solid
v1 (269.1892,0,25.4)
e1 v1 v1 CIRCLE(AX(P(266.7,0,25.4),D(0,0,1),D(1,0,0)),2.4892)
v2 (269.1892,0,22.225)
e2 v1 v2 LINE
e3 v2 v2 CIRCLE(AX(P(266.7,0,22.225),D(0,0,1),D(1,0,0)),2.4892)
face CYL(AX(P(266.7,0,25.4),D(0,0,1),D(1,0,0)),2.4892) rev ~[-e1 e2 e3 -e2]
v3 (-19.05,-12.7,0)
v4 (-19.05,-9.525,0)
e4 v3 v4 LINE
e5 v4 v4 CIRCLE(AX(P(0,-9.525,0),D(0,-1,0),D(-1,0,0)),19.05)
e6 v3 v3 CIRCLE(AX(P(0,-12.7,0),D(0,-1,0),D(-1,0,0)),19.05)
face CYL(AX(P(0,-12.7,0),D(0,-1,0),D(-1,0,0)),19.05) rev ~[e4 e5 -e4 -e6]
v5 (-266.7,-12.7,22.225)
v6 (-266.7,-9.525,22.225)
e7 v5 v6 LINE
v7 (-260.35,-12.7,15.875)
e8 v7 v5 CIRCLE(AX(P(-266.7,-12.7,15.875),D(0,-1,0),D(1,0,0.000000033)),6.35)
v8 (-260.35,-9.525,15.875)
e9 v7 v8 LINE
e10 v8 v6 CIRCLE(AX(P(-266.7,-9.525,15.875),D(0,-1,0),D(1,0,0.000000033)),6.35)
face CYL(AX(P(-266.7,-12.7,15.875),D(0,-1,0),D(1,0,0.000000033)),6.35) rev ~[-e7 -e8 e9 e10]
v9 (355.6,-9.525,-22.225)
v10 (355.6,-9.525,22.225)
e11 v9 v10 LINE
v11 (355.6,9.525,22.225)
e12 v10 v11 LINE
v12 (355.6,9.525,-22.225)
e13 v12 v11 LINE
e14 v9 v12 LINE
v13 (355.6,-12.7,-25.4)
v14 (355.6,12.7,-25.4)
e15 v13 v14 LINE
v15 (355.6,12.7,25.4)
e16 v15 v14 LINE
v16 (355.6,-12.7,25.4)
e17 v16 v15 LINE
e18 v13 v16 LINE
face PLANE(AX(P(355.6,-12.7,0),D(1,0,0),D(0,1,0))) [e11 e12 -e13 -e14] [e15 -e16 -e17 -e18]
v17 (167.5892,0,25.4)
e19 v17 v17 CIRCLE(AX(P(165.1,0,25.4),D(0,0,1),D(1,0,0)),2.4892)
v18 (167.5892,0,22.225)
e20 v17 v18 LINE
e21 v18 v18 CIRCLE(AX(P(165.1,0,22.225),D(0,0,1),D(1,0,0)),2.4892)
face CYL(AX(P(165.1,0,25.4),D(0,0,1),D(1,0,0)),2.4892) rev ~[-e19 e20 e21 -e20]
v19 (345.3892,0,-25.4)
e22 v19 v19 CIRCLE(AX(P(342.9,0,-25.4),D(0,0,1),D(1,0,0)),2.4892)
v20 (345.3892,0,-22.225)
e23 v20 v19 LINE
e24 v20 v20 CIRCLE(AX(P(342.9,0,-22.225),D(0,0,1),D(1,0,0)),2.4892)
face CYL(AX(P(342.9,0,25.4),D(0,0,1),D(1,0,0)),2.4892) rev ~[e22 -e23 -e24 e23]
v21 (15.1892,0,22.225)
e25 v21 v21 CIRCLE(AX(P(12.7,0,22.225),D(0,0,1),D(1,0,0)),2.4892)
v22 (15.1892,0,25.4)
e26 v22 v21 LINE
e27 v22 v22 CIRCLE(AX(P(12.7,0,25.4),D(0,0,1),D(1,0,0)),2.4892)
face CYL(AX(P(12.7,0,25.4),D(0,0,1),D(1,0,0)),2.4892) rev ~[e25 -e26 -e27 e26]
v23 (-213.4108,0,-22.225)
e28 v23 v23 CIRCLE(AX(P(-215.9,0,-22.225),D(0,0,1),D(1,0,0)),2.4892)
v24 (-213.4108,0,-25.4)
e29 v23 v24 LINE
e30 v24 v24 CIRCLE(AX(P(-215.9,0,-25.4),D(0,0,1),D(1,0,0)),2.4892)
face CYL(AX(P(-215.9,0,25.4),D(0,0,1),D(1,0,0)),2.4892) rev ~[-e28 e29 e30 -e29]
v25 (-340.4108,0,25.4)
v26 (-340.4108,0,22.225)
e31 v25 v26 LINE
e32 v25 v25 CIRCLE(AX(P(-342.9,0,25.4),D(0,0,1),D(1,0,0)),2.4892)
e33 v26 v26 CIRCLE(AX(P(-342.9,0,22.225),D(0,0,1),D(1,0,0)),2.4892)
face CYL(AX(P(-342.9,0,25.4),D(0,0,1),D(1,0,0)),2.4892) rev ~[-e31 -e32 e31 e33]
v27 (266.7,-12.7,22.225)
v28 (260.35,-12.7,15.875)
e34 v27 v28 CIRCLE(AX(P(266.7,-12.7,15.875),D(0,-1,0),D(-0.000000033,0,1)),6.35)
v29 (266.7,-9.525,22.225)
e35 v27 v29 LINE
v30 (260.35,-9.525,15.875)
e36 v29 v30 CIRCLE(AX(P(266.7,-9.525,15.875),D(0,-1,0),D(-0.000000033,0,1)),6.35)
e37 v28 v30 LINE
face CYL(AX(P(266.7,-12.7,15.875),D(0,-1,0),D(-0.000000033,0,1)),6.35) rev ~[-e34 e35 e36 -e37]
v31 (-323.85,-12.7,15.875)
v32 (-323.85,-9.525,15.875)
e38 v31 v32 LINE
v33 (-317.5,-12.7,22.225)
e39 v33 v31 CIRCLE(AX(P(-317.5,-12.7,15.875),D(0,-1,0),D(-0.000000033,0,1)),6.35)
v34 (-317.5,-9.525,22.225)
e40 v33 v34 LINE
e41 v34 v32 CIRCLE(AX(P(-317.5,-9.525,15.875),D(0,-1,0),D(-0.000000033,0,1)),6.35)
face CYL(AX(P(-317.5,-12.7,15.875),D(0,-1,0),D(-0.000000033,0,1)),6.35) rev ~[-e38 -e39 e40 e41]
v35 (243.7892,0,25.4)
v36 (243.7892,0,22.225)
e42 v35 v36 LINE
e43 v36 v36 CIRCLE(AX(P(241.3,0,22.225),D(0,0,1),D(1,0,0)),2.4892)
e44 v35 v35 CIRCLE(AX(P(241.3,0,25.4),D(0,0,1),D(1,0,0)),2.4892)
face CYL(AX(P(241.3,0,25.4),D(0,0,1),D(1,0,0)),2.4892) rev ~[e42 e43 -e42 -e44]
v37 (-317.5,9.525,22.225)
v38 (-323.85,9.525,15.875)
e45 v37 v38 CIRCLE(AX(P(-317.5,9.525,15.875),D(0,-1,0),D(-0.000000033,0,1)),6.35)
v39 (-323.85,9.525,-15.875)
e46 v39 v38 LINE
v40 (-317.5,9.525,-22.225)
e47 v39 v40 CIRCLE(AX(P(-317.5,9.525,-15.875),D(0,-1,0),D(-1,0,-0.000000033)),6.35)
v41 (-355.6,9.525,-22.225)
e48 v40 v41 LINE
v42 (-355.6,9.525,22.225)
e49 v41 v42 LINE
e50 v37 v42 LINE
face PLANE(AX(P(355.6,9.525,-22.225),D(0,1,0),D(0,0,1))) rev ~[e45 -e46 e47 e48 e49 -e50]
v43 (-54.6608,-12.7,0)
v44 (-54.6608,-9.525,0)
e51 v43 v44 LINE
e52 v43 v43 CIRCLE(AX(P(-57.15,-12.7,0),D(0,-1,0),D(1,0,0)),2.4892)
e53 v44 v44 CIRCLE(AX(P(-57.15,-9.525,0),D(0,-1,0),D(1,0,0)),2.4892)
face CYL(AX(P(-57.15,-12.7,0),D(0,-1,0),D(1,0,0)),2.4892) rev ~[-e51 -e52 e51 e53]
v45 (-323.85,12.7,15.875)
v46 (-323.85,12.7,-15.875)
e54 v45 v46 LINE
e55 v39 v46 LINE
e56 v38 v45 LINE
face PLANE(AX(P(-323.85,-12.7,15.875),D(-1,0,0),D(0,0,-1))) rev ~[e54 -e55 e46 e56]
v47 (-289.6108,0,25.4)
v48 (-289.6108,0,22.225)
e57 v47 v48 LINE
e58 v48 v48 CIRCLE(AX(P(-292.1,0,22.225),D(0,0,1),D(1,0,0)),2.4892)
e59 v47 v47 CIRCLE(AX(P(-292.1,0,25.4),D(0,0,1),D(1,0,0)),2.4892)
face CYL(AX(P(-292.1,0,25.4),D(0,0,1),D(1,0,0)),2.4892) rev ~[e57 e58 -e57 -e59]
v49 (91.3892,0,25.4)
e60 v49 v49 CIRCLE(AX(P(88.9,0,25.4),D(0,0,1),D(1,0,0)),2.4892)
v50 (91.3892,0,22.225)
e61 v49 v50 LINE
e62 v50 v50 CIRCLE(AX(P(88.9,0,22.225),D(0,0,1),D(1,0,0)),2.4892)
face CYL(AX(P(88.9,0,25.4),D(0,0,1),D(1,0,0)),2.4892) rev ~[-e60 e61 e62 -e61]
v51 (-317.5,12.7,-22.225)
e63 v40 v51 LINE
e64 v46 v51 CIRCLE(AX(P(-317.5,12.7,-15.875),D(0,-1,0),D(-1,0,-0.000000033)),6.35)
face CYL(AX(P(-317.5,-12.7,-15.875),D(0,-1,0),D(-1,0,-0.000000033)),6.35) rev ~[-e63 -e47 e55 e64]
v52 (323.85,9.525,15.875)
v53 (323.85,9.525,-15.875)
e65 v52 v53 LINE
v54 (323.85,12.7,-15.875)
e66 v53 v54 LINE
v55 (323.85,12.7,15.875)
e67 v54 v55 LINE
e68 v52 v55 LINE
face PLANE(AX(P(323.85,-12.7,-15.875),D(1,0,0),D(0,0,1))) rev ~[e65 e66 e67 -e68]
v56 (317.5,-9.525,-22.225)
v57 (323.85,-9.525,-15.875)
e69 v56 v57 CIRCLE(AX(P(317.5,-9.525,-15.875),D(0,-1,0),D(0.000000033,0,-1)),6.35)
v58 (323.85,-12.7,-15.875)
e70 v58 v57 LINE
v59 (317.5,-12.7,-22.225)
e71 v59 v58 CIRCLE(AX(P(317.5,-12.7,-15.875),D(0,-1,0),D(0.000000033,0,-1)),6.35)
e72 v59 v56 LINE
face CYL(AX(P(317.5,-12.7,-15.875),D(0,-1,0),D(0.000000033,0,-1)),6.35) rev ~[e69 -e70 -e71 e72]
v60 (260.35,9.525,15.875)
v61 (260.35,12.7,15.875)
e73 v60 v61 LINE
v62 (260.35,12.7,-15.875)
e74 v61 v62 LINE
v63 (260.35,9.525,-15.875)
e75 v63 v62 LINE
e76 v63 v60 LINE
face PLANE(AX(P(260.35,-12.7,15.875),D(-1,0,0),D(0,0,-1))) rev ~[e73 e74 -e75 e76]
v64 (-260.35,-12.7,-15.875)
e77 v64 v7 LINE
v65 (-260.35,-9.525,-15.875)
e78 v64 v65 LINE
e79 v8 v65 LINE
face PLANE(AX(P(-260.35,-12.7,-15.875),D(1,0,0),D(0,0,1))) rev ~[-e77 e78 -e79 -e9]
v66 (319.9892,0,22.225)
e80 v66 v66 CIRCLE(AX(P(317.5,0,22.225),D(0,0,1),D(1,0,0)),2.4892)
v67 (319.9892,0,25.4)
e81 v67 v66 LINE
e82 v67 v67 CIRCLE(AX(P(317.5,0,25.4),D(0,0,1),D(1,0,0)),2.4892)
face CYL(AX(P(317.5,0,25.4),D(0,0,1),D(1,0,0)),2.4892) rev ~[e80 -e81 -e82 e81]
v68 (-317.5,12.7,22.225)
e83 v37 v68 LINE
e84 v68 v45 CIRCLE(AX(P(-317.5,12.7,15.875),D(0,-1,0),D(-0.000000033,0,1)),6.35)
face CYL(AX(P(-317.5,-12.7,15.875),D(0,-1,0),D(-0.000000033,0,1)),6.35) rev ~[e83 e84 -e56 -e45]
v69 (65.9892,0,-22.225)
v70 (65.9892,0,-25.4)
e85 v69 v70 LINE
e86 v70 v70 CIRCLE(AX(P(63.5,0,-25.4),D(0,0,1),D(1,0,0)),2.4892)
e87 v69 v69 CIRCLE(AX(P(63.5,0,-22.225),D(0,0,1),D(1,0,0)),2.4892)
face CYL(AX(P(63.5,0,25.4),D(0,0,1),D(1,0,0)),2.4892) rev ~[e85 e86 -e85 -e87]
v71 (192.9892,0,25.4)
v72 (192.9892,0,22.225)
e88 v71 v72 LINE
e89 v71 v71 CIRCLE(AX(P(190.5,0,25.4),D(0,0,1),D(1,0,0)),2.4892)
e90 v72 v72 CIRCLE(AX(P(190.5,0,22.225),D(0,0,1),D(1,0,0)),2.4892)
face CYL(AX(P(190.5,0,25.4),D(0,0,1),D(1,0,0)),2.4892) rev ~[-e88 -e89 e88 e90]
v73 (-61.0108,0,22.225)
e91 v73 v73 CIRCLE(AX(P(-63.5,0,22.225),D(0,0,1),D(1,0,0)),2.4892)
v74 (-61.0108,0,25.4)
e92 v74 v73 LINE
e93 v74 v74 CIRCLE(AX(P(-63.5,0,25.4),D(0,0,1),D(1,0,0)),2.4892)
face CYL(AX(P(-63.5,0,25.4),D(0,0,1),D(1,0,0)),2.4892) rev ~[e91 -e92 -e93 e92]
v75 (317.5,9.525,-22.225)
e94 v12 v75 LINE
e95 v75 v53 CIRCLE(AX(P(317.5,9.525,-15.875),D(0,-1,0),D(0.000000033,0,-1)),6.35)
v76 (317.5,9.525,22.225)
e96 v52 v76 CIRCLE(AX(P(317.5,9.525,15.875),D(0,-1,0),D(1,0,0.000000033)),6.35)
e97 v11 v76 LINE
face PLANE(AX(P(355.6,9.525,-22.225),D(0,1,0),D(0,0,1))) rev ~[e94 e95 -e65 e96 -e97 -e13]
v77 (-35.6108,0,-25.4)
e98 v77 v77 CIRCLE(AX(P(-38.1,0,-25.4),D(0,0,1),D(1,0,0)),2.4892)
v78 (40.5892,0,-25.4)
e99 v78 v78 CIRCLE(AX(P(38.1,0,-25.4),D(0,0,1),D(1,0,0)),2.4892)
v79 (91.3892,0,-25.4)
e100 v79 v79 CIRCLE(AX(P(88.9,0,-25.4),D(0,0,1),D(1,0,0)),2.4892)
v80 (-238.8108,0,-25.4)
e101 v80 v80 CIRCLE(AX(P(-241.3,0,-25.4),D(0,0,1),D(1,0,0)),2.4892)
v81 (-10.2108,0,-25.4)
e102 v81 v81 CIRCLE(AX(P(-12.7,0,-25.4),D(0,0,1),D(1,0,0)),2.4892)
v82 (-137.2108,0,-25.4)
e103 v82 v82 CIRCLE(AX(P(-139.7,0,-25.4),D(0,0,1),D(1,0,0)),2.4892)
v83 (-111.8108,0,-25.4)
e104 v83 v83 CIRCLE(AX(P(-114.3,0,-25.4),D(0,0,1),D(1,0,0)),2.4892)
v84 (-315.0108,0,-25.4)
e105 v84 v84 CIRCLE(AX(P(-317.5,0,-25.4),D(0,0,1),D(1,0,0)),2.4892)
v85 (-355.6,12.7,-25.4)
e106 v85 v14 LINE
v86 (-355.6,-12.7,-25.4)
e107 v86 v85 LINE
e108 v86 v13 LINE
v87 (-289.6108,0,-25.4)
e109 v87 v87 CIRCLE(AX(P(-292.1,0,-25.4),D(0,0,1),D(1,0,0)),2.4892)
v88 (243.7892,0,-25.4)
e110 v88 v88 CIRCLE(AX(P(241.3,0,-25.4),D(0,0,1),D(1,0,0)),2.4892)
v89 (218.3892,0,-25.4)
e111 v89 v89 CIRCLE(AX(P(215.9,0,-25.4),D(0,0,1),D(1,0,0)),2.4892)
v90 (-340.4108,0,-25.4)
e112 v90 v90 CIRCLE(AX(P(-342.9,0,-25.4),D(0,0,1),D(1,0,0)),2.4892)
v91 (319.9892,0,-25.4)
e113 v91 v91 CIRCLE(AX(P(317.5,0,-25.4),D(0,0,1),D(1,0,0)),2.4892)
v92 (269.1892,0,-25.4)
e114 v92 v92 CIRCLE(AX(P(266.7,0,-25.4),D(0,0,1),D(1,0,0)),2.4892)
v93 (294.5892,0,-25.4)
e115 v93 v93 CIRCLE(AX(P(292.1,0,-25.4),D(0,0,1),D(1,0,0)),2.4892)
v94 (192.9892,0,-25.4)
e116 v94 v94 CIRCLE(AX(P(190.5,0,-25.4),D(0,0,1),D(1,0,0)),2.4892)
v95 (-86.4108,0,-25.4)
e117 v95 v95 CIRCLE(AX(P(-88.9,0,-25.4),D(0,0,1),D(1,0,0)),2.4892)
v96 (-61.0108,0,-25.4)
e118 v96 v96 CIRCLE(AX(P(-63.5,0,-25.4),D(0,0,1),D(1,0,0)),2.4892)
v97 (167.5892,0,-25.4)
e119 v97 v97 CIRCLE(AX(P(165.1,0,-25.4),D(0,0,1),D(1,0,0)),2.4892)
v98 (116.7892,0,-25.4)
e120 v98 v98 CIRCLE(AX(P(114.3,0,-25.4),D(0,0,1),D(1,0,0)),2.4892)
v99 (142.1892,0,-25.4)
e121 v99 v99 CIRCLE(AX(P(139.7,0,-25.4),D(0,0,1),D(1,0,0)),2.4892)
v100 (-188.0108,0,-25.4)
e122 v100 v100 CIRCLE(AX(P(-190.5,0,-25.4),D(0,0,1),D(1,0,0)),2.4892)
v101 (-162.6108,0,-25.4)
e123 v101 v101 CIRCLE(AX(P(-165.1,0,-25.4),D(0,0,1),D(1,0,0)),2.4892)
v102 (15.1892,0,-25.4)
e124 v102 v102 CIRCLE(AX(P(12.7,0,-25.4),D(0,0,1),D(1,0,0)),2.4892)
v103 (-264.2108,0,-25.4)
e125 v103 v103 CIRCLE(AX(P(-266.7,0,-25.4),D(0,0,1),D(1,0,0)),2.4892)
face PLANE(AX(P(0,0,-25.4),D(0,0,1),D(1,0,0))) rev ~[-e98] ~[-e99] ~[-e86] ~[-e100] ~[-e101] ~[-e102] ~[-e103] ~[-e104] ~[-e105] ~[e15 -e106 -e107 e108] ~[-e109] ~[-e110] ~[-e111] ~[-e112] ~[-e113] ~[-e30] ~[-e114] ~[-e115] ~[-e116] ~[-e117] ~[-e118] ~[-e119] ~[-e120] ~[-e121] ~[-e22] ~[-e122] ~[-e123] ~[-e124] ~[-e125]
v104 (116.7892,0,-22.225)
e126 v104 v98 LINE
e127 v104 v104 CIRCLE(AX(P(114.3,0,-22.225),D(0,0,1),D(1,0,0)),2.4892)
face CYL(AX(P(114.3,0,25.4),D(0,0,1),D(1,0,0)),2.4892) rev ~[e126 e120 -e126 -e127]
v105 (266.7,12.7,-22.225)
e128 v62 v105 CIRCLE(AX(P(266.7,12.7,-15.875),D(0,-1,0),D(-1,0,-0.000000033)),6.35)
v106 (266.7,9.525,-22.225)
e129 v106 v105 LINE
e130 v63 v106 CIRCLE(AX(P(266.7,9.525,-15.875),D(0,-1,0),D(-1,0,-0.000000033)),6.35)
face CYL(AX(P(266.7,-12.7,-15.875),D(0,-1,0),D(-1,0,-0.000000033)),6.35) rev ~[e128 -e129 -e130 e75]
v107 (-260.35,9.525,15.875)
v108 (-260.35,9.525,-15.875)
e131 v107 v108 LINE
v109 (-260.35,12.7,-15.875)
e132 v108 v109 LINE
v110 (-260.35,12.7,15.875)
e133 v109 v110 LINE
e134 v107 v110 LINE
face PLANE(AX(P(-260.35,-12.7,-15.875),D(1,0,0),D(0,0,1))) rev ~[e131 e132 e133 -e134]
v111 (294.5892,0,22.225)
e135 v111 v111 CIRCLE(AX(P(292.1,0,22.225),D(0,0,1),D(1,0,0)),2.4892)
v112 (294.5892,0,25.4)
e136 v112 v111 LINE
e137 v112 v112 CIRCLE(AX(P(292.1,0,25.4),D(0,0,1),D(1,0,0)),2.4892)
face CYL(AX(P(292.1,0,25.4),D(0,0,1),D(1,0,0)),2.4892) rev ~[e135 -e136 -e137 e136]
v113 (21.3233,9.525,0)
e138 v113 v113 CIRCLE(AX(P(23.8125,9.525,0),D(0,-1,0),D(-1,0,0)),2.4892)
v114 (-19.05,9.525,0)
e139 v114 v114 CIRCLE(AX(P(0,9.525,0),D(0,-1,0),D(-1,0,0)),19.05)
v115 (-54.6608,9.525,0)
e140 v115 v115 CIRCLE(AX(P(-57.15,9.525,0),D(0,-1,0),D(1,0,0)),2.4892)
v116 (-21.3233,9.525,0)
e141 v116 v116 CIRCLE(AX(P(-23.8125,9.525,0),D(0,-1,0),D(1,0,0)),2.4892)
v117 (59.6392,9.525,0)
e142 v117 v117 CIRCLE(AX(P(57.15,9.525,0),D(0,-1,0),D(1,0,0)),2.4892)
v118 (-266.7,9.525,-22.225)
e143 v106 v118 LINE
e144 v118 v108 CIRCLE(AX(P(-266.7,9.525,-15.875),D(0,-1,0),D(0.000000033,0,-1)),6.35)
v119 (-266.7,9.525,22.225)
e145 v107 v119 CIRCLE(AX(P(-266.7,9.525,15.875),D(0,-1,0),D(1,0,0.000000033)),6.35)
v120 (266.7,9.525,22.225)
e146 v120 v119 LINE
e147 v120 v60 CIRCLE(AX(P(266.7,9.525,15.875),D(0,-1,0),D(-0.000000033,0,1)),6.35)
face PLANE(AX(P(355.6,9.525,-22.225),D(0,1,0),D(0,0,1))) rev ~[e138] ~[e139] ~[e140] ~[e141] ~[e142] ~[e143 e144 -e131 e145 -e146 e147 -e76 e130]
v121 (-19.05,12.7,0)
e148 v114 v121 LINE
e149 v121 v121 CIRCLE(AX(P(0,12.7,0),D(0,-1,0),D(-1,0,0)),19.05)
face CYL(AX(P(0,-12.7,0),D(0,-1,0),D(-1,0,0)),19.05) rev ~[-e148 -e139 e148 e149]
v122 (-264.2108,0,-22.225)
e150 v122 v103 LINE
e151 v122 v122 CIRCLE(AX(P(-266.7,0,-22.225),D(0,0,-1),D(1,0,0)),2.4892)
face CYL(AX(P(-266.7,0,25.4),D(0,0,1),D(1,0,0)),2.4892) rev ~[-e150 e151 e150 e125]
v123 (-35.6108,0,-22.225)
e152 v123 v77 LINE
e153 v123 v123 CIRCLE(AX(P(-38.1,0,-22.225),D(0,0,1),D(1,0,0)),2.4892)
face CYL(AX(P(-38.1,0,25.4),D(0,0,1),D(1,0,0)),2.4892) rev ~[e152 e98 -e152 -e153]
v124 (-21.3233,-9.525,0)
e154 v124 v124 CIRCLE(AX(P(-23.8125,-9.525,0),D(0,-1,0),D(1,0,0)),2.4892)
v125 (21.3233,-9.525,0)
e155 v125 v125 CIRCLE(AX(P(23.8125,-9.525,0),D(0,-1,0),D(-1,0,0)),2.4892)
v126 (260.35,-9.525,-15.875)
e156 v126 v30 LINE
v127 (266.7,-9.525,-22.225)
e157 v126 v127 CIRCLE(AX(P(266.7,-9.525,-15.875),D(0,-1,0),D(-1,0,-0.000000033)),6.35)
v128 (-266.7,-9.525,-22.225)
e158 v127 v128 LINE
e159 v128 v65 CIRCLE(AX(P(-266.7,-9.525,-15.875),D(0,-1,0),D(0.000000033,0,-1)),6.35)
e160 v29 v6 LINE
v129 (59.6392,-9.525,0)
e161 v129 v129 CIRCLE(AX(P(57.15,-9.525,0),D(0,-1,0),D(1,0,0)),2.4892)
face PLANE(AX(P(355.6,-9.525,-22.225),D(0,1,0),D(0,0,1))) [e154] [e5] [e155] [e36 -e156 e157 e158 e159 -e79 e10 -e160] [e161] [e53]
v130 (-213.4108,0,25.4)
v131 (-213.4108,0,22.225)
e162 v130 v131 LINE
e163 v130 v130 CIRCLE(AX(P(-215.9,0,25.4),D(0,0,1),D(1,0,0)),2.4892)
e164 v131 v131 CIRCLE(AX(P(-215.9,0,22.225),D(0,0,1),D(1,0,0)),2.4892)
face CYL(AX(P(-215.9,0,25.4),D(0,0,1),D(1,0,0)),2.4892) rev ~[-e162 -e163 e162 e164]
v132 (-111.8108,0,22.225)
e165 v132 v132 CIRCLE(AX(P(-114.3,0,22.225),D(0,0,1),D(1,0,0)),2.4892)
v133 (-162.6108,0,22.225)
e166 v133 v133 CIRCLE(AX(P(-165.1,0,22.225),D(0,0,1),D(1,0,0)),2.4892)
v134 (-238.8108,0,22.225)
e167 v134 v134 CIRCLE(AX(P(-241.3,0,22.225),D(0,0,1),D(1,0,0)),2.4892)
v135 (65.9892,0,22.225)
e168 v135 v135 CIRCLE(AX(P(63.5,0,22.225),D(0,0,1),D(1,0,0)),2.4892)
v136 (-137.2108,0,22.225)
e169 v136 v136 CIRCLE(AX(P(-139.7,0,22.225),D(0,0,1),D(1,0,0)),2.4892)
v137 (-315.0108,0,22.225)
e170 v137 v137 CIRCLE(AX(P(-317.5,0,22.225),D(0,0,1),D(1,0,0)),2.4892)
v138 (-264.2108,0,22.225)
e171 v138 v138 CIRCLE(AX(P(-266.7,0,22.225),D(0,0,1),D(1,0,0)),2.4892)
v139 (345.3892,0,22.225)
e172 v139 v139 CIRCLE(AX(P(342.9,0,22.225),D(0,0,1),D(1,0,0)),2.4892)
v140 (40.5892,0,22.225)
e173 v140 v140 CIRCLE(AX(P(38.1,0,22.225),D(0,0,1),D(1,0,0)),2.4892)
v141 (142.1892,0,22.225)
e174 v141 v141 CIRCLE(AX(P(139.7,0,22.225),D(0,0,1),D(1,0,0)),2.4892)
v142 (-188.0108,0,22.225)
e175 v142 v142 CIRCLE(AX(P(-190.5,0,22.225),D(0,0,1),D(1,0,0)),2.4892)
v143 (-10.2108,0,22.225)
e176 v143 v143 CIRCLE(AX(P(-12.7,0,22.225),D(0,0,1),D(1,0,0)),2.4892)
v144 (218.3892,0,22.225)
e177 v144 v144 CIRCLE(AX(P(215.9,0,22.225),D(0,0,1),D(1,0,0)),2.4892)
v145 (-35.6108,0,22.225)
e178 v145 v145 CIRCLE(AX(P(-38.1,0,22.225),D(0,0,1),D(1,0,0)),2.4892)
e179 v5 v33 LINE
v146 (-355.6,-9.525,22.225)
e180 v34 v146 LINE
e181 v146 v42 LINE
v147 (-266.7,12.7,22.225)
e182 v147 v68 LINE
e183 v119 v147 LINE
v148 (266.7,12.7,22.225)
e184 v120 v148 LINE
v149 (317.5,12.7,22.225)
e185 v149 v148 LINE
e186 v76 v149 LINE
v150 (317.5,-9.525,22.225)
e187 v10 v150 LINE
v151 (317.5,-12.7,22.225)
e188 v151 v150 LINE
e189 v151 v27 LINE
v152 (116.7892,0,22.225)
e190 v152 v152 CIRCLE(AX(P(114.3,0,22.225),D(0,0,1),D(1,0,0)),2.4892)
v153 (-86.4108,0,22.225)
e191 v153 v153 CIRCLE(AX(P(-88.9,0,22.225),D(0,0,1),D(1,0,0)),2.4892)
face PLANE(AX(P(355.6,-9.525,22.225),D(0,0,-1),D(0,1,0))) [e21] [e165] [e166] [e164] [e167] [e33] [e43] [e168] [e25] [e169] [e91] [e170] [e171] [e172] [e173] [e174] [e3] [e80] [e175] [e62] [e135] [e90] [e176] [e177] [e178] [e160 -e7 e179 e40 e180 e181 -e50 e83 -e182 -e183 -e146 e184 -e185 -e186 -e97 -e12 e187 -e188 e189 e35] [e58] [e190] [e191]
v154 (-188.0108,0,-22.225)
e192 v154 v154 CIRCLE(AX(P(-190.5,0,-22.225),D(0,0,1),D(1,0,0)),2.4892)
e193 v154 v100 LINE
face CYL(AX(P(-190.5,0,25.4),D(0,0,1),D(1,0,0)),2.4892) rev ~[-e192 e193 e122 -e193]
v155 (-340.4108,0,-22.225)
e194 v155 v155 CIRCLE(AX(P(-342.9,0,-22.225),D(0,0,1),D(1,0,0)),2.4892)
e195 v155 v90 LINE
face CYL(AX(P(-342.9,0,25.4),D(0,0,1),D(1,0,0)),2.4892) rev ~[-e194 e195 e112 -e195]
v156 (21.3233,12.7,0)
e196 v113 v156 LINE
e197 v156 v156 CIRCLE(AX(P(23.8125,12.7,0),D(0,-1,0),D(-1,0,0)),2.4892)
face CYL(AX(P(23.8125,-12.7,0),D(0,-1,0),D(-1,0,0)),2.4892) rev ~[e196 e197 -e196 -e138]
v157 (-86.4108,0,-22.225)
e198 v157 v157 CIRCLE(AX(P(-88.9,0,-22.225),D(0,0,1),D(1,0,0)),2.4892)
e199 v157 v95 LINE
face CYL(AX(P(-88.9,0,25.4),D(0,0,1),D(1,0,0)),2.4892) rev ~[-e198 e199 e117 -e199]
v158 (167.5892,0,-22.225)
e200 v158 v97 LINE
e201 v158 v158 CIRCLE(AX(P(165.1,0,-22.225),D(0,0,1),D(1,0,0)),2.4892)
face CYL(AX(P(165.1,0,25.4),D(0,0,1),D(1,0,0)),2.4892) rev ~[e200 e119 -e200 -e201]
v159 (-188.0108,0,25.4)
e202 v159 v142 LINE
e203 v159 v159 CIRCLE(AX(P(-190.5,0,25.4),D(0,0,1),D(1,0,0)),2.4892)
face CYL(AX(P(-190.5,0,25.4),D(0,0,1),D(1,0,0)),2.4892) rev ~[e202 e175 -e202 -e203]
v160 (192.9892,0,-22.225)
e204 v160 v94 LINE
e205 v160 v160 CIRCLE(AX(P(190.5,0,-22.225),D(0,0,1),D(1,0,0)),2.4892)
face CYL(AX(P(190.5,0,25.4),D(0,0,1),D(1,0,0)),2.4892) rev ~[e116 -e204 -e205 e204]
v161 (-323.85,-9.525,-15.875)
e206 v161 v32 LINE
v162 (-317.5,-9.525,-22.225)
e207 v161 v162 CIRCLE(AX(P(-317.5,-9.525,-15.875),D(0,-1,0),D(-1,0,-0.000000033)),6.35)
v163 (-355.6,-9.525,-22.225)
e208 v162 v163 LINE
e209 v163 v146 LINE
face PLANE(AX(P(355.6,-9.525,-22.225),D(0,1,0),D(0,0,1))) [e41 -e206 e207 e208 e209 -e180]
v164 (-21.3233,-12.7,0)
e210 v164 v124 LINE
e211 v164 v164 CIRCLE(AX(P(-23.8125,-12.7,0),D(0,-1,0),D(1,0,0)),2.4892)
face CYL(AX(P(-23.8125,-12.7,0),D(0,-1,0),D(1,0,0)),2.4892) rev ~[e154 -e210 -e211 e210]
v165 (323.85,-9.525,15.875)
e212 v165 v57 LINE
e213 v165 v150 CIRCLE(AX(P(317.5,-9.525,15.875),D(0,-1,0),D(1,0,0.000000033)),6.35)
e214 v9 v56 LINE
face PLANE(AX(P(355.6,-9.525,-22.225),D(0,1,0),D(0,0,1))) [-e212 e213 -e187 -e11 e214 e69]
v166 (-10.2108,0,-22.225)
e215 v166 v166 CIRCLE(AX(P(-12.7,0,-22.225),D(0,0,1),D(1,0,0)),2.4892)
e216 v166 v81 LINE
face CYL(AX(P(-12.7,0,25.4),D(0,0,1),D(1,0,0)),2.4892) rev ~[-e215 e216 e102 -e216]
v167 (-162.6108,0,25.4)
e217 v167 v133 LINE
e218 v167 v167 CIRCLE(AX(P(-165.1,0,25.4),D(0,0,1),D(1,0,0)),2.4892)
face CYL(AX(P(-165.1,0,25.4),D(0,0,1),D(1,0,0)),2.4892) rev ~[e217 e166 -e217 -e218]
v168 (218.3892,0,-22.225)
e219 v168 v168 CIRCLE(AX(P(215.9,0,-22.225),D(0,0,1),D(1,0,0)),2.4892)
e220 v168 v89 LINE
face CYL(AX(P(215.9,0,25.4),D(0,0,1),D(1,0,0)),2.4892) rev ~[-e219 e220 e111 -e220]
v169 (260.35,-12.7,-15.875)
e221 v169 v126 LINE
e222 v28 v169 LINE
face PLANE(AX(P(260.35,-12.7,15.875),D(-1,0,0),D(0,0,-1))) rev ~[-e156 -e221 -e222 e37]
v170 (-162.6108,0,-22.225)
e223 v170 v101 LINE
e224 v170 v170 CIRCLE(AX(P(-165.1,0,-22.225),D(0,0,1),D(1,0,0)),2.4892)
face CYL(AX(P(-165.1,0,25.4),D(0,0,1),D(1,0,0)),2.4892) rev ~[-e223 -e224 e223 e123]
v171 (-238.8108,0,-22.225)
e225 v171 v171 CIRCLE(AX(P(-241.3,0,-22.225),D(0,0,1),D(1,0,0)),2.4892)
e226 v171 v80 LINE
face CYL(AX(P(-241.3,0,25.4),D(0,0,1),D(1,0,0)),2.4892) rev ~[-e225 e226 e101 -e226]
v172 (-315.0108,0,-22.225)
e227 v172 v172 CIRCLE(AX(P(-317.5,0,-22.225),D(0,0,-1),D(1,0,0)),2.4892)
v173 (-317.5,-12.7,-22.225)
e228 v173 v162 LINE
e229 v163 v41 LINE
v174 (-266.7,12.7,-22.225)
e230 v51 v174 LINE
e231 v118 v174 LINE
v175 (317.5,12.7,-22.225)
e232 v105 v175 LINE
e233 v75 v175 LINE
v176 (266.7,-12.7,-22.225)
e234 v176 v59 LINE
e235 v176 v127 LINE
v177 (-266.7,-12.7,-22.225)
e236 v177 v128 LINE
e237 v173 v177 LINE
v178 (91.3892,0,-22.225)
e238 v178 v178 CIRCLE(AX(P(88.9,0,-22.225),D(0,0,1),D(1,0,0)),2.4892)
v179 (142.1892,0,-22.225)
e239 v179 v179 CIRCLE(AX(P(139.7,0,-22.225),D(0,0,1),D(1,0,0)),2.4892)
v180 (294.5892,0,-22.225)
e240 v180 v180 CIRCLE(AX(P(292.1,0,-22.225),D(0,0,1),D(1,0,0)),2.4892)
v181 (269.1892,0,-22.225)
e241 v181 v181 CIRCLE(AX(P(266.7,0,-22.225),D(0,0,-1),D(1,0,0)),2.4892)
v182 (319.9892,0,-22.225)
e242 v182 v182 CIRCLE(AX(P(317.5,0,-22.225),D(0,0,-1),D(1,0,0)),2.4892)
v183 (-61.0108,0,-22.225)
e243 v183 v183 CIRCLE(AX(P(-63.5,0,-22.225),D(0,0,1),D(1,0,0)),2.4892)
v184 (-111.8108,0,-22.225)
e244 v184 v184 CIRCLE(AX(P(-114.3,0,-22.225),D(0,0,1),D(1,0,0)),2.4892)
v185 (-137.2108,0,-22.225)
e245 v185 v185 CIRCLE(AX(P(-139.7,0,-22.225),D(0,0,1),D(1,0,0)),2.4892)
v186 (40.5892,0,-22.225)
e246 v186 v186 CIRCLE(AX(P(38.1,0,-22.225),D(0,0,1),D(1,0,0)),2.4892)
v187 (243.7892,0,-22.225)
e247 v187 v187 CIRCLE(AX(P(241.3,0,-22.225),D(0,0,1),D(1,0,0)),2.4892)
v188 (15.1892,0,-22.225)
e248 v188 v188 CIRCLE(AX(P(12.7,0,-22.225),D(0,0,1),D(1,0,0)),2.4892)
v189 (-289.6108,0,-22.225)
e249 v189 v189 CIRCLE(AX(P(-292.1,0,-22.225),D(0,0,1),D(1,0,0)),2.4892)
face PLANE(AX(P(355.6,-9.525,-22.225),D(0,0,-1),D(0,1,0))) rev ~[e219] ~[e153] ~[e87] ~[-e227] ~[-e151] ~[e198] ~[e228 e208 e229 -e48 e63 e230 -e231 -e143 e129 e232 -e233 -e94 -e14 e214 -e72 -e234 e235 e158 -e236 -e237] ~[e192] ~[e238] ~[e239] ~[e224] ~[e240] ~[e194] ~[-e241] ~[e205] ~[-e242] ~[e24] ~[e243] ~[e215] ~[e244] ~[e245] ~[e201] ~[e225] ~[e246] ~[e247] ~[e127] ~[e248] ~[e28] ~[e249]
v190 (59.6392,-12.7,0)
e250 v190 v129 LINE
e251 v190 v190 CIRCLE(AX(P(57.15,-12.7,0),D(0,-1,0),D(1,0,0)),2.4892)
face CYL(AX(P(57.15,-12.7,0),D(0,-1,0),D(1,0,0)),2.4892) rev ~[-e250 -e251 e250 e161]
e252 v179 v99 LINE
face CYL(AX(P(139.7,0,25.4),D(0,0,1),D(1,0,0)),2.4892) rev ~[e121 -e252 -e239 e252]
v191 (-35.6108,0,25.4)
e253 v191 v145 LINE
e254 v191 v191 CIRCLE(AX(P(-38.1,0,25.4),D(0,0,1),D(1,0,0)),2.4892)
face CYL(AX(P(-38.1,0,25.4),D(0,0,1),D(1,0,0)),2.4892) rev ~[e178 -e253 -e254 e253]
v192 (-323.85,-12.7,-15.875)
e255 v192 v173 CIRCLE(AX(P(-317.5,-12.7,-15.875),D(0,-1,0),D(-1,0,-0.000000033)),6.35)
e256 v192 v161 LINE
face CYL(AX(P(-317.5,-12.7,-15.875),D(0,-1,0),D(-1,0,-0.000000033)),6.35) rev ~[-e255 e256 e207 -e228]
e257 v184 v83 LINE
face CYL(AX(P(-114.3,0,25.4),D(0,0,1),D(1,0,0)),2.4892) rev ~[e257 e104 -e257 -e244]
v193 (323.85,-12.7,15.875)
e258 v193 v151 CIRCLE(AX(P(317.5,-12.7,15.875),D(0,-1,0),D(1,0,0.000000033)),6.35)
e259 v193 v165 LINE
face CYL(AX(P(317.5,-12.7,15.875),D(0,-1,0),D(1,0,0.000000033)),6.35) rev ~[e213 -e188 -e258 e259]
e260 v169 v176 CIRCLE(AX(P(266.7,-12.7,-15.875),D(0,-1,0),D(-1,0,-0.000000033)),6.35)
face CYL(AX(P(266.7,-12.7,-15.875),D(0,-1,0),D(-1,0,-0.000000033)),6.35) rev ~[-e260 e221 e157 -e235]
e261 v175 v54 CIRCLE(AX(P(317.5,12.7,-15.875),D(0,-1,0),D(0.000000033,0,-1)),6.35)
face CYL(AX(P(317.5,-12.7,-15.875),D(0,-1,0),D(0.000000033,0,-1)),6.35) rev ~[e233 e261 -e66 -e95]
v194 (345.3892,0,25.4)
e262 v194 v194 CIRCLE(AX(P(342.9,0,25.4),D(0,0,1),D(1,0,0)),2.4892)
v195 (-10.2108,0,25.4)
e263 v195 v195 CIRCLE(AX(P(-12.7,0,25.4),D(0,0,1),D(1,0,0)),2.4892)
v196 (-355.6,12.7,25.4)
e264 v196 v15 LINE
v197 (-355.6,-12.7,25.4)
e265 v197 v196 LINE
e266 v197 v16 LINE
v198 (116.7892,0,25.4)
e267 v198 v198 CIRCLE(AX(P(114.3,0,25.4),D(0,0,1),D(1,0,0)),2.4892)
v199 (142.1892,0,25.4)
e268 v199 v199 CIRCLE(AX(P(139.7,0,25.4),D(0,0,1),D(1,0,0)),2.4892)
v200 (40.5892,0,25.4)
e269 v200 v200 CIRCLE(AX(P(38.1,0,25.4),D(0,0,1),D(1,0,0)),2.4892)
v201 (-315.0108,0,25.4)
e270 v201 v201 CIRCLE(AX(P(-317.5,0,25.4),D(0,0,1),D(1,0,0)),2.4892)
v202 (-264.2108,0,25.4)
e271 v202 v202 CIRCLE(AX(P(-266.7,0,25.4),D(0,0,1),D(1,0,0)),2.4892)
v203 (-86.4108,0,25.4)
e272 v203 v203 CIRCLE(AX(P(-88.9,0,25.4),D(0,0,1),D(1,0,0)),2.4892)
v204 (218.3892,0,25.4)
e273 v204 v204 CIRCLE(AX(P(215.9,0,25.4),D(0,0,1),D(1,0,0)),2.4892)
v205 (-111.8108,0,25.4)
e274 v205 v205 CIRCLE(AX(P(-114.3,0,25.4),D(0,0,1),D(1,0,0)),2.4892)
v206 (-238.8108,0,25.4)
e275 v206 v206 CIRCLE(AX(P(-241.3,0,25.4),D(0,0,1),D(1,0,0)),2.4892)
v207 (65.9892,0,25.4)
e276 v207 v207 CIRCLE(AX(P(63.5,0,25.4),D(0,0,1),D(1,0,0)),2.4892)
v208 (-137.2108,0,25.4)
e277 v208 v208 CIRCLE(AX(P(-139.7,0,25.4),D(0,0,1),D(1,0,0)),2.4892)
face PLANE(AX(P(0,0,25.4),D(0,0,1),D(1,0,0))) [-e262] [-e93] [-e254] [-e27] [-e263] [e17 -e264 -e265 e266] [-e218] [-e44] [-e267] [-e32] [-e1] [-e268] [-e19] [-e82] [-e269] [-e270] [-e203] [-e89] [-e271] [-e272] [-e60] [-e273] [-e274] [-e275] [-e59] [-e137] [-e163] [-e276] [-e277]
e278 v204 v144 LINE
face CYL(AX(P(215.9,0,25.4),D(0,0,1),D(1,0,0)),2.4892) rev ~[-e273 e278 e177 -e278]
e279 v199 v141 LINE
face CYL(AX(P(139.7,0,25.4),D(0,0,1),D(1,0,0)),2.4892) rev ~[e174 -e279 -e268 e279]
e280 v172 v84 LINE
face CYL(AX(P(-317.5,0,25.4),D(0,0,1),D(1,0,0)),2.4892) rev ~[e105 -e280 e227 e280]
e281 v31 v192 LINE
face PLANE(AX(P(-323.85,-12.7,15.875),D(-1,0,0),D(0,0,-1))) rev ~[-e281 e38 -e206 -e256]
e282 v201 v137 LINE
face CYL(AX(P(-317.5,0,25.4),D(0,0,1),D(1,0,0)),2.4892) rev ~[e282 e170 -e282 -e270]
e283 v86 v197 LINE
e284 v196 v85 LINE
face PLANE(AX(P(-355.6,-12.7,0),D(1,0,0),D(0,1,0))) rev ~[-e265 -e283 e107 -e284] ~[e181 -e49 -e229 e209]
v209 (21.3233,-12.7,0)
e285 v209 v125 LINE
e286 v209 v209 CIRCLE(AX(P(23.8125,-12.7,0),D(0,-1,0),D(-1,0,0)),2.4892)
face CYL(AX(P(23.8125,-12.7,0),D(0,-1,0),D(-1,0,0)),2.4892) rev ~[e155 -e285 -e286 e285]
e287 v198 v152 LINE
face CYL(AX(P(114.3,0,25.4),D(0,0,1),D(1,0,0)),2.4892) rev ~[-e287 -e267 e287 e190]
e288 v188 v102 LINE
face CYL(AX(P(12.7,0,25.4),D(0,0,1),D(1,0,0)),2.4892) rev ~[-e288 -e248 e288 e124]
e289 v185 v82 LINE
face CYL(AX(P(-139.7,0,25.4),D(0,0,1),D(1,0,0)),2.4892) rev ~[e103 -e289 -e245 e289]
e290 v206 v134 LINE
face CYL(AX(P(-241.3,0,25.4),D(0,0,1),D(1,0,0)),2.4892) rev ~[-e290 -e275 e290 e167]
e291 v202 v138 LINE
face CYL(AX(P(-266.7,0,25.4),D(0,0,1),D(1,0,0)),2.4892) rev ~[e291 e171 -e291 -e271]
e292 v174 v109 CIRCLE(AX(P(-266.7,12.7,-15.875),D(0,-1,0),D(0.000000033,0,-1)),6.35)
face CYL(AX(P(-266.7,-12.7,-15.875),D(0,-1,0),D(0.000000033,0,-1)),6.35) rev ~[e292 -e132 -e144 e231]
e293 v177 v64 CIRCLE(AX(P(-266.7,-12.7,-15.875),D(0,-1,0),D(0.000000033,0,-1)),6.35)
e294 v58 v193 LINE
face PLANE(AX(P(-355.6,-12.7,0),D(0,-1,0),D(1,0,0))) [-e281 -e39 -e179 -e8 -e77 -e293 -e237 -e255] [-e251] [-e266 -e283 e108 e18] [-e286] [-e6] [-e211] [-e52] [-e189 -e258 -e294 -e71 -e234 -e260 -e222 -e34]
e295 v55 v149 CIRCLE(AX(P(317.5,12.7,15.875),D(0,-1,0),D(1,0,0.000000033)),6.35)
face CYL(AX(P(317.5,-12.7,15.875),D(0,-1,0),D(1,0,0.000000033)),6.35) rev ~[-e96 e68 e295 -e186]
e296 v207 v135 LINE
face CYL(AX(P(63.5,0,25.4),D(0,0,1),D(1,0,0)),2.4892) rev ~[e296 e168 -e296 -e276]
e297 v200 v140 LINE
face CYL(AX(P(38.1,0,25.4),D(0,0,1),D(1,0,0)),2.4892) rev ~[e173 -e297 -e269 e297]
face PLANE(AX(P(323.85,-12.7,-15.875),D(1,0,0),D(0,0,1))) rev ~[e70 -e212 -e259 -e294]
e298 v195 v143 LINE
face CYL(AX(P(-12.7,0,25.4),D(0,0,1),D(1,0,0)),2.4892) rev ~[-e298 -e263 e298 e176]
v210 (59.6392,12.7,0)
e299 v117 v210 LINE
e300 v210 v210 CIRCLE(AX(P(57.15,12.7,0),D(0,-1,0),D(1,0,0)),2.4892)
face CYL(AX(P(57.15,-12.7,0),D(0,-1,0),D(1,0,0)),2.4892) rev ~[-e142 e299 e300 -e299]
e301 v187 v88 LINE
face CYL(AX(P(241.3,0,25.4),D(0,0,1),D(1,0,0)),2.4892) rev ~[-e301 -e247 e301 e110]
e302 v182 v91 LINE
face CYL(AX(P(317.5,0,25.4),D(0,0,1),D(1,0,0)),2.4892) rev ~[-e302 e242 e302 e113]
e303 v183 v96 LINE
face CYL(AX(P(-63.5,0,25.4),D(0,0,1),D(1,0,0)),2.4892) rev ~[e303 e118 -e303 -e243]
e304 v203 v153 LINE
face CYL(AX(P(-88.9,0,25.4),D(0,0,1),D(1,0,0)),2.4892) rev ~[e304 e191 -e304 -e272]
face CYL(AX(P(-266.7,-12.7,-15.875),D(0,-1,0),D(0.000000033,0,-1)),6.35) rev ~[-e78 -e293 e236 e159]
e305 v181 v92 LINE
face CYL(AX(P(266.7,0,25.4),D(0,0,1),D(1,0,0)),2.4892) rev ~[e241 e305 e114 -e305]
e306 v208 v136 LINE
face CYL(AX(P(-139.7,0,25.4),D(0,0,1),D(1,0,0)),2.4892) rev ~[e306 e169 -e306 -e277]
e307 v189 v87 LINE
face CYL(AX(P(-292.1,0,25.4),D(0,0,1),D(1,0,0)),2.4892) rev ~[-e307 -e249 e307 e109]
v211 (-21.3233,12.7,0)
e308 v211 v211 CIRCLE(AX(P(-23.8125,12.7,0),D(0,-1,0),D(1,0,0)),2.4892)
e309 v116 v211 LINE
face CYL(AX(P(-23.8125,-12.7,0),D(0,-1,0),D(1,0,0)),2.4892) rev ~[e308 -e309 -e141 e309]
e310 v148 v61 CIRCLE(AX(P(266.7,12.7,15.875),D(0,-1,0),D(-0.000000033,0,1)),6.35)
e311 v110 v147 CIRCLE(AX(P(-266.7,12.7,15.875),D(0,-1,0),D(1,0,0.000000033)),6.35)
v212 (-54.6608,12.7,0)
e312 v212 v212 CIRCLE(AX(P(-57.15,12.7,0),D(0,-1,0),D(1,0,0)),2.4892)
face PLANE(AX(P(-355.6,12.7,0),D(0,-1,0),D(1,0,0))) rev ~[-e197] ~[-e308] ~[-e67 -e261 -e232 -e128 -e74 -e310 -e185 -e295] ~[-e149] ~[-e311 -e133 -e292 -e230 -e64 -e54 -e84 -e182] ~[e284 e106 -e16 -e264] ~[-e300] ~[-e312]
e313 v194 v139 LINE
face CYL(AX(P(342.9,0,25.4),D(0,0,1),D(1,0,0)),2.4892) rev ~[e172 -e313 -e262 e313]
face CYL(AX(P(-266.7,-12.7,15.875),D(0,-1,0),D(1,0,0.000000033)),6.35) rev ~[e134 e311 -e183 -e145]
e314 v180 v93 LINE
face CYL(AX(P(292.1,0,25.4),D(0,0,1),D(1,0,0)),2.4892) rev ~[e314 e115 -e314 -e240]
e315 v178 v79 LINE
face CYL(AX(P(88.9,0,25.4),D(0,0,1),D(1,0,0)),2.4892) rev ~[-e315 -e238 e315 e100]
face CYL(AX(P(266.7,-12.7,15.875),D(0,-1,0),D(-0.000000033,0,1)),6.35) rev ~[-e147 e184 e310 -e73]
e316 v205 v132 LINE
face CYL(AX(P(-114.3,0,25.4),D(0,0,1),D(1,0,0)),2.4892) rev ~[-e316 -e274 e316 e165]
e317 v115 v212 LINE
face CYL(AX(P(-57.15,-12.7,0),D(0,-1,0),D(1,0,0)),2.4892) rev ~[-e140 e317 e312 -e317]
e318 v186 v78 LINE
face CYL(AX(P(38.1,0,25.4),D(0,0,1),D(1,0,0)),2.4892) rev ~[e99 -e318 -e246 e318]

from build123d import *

# Parameters (mm, degrees)
F0_W     = 711.2
F0_H     = 25.4
F1_DEPTH = 25.4
F2_W     = 19.05
F2_H     = 44.45
F3_DEPTH = 711.201
F4_R     = 2.4892
F5_DEPTH = 50.801
F6_R     = 2.4892
F7_DEPTH = 25.401


with BuildPart() as f1:
    # F0 (on Top) → F1 (new body, symmetric)
    with BuildSketch(Plane.XY):
        Rectangle(F0_W, F0_H)
    extrude(amount=F1_DEPTH, both=True)

    # F2 (on face) → F3 (cut, through all)
    with BuildSketch(Plane.YZ.offset(355.6)):
        Rectangle(F2_W, F2_H)
    extrude(amount=-F3_DEPTH, mode=Mode.SUBTRACT)

    # F4 (on face) → F5 (cut, through all)
    with BuildSketch(Plane.XY.offset(25.4)):
        with Locations((-342.9, 0)):
            Circle(F4_R)
        with Locations((-317.5, 0)):
            Circle(F4_R)
        with Locations((-292.1, 0)):
            Circle(F4_R)
        with Locations((-266.7, 0)):
            Circle(F4_R)
        with Locations((-241.3, 0)):
            Circle(F4_R)
        with Locations((-215.9, 0)):
            Circle(F4_R)
        with Locations((-190.5, 0)):
            Circle(F4_R)
        with Locations((-165.1, 0)):
            Circle(F4_R)
        with Locations((-139.7, 0)):
            Circle(F4_R)
        with Locations((-114.3, 0)):
            Circle(F4_R)
        with Locations((-88.9, 0)):
            Circle(F4_R)
        with Locations((-63.5, 0)):
            Circle(F4_R)
        with Locations((-38.1, 0)):
            Circle(F4_R)
        with Locations((-12.7, 0)):
            Circle(F4_R)
        with Locations((12.7, 0)):
            Circle(F4_R)
        with Locations((38.1, 0)):
            Circle(F4_R)
        with Locations((63.5, 0)):
            Circle(F4_R)
        with Locations((88.9, 0)):
            Circle(F4_R)
        with Locations((114.3, 0)):
            Circle(F4_R)
        with Locations((139.7, 0)):
            Circle(F4_R)
        with Locations((165.1, 0)):
            Circle(F4_R)
        with Locations((190.5, 0)):
            Circle(F4_R)
        with Locations((215.9, 0)):
            Circle(F4_R)
        with Locations((241.3, 0)):
            Circle(F4_R)
        with Locations((266.7, 0)):
            Circle(F4_R)
        with Locations((292.1, 0)):
            Circle(F4_R)
        with Locations((317.5, 0)):
            Circle(F4_R)
        with Locations((342.9, 0)):
            Circle(F4_R)
        with Locations((368.3, 0)):
            Circle(F4_R)
        with Locations((393.7, 0)):
            Circle(F4_R)
    extrude(amount=-F5_DEPTH, mode=Mode.SUBTRACT)

    # F6 (on face) → F7 (cut, through all)
    with BuildSketch(Plane.XZ.offset(12.7)):
        with BuildLine():
            ThreePointArc((-323.85, -15.875), (-321.990128, -20.365128), (-317.5, -22.225))
            Line((-317.5, -22.225), (-266.7, -22.225))
            ThreePointArc((-266.7, -22.225), (-262.209872, -20.365128), (-260.35, -15.875))
            Line((-260.35, -15.875), (-260.35, 15.875))
            ThreePointArc((-260.35, 15.875), (-262.209872, 20.365128), (-266.7, 22.225))
            Line((-266.7, 22.225), (-317.5, 22.225))
            ThreePointArc((-317.5, 22.225), (-321.990128, 20.365128), (-323.85, 15.875))
            Line((-323.85, 15.875), (-323.85, -15.875))
        make_face()
        with BuildLine():
            Line((317.5, 22.225), (266.7, 22.225))
            ThreePointArc((266.7, 22.225), (262.209872, 20.365128), (260.35, 15.875))
            Line((260.35, 15.875), (260.35, -15.875))
            ThreePointArc((260.35, -15.875), (262.209872, -20.365128), (266.7, -22.225))
            Line((266.7, -22.225), (317.5, -22.225))
            ThreePointArc((317.5, -22.225), (321.990128, -20.365128), (323.85, -15.875))
            Line((323.85, -15.875), (323.85, 15.875))
            ThreePointArc((323.85, 15.875), (321.990128, 20.365128), (317.5, 22.225))
        make_face()
        with BuildLine():
            Line((-19.05, 0), (19.05, 0))
            ThreePointArc((19.05, 0), (0, 19.05), (-19.05, 0))
        make_face()
        with Locations((-23.8125, 0)):
            Circle(F6_R)
        with BuildLine():
            ThreePointArc((-19.05, 0), (0, -19.05), (19.05, 0))
            Line((19.05, 0), (-19.05, 0))
        make_face()
        with BuildLine():
            ThreePointArc((26.3017, 0), (23.8125, 2.4892), (21.3233, 0))
            ThreePointArc((21.3233, 0), (23.8125, -2.4892), (26.3017, 0))
        make_face()
        with Locations((-57.15, 0)):
            Circle(F6_R)
        with Locations((57.15, 0)):
            Circle(F6_R)
    extrude(amount=-F7_DEPTH, mode=Mode.SUBTRACT)


solid = f1.part
